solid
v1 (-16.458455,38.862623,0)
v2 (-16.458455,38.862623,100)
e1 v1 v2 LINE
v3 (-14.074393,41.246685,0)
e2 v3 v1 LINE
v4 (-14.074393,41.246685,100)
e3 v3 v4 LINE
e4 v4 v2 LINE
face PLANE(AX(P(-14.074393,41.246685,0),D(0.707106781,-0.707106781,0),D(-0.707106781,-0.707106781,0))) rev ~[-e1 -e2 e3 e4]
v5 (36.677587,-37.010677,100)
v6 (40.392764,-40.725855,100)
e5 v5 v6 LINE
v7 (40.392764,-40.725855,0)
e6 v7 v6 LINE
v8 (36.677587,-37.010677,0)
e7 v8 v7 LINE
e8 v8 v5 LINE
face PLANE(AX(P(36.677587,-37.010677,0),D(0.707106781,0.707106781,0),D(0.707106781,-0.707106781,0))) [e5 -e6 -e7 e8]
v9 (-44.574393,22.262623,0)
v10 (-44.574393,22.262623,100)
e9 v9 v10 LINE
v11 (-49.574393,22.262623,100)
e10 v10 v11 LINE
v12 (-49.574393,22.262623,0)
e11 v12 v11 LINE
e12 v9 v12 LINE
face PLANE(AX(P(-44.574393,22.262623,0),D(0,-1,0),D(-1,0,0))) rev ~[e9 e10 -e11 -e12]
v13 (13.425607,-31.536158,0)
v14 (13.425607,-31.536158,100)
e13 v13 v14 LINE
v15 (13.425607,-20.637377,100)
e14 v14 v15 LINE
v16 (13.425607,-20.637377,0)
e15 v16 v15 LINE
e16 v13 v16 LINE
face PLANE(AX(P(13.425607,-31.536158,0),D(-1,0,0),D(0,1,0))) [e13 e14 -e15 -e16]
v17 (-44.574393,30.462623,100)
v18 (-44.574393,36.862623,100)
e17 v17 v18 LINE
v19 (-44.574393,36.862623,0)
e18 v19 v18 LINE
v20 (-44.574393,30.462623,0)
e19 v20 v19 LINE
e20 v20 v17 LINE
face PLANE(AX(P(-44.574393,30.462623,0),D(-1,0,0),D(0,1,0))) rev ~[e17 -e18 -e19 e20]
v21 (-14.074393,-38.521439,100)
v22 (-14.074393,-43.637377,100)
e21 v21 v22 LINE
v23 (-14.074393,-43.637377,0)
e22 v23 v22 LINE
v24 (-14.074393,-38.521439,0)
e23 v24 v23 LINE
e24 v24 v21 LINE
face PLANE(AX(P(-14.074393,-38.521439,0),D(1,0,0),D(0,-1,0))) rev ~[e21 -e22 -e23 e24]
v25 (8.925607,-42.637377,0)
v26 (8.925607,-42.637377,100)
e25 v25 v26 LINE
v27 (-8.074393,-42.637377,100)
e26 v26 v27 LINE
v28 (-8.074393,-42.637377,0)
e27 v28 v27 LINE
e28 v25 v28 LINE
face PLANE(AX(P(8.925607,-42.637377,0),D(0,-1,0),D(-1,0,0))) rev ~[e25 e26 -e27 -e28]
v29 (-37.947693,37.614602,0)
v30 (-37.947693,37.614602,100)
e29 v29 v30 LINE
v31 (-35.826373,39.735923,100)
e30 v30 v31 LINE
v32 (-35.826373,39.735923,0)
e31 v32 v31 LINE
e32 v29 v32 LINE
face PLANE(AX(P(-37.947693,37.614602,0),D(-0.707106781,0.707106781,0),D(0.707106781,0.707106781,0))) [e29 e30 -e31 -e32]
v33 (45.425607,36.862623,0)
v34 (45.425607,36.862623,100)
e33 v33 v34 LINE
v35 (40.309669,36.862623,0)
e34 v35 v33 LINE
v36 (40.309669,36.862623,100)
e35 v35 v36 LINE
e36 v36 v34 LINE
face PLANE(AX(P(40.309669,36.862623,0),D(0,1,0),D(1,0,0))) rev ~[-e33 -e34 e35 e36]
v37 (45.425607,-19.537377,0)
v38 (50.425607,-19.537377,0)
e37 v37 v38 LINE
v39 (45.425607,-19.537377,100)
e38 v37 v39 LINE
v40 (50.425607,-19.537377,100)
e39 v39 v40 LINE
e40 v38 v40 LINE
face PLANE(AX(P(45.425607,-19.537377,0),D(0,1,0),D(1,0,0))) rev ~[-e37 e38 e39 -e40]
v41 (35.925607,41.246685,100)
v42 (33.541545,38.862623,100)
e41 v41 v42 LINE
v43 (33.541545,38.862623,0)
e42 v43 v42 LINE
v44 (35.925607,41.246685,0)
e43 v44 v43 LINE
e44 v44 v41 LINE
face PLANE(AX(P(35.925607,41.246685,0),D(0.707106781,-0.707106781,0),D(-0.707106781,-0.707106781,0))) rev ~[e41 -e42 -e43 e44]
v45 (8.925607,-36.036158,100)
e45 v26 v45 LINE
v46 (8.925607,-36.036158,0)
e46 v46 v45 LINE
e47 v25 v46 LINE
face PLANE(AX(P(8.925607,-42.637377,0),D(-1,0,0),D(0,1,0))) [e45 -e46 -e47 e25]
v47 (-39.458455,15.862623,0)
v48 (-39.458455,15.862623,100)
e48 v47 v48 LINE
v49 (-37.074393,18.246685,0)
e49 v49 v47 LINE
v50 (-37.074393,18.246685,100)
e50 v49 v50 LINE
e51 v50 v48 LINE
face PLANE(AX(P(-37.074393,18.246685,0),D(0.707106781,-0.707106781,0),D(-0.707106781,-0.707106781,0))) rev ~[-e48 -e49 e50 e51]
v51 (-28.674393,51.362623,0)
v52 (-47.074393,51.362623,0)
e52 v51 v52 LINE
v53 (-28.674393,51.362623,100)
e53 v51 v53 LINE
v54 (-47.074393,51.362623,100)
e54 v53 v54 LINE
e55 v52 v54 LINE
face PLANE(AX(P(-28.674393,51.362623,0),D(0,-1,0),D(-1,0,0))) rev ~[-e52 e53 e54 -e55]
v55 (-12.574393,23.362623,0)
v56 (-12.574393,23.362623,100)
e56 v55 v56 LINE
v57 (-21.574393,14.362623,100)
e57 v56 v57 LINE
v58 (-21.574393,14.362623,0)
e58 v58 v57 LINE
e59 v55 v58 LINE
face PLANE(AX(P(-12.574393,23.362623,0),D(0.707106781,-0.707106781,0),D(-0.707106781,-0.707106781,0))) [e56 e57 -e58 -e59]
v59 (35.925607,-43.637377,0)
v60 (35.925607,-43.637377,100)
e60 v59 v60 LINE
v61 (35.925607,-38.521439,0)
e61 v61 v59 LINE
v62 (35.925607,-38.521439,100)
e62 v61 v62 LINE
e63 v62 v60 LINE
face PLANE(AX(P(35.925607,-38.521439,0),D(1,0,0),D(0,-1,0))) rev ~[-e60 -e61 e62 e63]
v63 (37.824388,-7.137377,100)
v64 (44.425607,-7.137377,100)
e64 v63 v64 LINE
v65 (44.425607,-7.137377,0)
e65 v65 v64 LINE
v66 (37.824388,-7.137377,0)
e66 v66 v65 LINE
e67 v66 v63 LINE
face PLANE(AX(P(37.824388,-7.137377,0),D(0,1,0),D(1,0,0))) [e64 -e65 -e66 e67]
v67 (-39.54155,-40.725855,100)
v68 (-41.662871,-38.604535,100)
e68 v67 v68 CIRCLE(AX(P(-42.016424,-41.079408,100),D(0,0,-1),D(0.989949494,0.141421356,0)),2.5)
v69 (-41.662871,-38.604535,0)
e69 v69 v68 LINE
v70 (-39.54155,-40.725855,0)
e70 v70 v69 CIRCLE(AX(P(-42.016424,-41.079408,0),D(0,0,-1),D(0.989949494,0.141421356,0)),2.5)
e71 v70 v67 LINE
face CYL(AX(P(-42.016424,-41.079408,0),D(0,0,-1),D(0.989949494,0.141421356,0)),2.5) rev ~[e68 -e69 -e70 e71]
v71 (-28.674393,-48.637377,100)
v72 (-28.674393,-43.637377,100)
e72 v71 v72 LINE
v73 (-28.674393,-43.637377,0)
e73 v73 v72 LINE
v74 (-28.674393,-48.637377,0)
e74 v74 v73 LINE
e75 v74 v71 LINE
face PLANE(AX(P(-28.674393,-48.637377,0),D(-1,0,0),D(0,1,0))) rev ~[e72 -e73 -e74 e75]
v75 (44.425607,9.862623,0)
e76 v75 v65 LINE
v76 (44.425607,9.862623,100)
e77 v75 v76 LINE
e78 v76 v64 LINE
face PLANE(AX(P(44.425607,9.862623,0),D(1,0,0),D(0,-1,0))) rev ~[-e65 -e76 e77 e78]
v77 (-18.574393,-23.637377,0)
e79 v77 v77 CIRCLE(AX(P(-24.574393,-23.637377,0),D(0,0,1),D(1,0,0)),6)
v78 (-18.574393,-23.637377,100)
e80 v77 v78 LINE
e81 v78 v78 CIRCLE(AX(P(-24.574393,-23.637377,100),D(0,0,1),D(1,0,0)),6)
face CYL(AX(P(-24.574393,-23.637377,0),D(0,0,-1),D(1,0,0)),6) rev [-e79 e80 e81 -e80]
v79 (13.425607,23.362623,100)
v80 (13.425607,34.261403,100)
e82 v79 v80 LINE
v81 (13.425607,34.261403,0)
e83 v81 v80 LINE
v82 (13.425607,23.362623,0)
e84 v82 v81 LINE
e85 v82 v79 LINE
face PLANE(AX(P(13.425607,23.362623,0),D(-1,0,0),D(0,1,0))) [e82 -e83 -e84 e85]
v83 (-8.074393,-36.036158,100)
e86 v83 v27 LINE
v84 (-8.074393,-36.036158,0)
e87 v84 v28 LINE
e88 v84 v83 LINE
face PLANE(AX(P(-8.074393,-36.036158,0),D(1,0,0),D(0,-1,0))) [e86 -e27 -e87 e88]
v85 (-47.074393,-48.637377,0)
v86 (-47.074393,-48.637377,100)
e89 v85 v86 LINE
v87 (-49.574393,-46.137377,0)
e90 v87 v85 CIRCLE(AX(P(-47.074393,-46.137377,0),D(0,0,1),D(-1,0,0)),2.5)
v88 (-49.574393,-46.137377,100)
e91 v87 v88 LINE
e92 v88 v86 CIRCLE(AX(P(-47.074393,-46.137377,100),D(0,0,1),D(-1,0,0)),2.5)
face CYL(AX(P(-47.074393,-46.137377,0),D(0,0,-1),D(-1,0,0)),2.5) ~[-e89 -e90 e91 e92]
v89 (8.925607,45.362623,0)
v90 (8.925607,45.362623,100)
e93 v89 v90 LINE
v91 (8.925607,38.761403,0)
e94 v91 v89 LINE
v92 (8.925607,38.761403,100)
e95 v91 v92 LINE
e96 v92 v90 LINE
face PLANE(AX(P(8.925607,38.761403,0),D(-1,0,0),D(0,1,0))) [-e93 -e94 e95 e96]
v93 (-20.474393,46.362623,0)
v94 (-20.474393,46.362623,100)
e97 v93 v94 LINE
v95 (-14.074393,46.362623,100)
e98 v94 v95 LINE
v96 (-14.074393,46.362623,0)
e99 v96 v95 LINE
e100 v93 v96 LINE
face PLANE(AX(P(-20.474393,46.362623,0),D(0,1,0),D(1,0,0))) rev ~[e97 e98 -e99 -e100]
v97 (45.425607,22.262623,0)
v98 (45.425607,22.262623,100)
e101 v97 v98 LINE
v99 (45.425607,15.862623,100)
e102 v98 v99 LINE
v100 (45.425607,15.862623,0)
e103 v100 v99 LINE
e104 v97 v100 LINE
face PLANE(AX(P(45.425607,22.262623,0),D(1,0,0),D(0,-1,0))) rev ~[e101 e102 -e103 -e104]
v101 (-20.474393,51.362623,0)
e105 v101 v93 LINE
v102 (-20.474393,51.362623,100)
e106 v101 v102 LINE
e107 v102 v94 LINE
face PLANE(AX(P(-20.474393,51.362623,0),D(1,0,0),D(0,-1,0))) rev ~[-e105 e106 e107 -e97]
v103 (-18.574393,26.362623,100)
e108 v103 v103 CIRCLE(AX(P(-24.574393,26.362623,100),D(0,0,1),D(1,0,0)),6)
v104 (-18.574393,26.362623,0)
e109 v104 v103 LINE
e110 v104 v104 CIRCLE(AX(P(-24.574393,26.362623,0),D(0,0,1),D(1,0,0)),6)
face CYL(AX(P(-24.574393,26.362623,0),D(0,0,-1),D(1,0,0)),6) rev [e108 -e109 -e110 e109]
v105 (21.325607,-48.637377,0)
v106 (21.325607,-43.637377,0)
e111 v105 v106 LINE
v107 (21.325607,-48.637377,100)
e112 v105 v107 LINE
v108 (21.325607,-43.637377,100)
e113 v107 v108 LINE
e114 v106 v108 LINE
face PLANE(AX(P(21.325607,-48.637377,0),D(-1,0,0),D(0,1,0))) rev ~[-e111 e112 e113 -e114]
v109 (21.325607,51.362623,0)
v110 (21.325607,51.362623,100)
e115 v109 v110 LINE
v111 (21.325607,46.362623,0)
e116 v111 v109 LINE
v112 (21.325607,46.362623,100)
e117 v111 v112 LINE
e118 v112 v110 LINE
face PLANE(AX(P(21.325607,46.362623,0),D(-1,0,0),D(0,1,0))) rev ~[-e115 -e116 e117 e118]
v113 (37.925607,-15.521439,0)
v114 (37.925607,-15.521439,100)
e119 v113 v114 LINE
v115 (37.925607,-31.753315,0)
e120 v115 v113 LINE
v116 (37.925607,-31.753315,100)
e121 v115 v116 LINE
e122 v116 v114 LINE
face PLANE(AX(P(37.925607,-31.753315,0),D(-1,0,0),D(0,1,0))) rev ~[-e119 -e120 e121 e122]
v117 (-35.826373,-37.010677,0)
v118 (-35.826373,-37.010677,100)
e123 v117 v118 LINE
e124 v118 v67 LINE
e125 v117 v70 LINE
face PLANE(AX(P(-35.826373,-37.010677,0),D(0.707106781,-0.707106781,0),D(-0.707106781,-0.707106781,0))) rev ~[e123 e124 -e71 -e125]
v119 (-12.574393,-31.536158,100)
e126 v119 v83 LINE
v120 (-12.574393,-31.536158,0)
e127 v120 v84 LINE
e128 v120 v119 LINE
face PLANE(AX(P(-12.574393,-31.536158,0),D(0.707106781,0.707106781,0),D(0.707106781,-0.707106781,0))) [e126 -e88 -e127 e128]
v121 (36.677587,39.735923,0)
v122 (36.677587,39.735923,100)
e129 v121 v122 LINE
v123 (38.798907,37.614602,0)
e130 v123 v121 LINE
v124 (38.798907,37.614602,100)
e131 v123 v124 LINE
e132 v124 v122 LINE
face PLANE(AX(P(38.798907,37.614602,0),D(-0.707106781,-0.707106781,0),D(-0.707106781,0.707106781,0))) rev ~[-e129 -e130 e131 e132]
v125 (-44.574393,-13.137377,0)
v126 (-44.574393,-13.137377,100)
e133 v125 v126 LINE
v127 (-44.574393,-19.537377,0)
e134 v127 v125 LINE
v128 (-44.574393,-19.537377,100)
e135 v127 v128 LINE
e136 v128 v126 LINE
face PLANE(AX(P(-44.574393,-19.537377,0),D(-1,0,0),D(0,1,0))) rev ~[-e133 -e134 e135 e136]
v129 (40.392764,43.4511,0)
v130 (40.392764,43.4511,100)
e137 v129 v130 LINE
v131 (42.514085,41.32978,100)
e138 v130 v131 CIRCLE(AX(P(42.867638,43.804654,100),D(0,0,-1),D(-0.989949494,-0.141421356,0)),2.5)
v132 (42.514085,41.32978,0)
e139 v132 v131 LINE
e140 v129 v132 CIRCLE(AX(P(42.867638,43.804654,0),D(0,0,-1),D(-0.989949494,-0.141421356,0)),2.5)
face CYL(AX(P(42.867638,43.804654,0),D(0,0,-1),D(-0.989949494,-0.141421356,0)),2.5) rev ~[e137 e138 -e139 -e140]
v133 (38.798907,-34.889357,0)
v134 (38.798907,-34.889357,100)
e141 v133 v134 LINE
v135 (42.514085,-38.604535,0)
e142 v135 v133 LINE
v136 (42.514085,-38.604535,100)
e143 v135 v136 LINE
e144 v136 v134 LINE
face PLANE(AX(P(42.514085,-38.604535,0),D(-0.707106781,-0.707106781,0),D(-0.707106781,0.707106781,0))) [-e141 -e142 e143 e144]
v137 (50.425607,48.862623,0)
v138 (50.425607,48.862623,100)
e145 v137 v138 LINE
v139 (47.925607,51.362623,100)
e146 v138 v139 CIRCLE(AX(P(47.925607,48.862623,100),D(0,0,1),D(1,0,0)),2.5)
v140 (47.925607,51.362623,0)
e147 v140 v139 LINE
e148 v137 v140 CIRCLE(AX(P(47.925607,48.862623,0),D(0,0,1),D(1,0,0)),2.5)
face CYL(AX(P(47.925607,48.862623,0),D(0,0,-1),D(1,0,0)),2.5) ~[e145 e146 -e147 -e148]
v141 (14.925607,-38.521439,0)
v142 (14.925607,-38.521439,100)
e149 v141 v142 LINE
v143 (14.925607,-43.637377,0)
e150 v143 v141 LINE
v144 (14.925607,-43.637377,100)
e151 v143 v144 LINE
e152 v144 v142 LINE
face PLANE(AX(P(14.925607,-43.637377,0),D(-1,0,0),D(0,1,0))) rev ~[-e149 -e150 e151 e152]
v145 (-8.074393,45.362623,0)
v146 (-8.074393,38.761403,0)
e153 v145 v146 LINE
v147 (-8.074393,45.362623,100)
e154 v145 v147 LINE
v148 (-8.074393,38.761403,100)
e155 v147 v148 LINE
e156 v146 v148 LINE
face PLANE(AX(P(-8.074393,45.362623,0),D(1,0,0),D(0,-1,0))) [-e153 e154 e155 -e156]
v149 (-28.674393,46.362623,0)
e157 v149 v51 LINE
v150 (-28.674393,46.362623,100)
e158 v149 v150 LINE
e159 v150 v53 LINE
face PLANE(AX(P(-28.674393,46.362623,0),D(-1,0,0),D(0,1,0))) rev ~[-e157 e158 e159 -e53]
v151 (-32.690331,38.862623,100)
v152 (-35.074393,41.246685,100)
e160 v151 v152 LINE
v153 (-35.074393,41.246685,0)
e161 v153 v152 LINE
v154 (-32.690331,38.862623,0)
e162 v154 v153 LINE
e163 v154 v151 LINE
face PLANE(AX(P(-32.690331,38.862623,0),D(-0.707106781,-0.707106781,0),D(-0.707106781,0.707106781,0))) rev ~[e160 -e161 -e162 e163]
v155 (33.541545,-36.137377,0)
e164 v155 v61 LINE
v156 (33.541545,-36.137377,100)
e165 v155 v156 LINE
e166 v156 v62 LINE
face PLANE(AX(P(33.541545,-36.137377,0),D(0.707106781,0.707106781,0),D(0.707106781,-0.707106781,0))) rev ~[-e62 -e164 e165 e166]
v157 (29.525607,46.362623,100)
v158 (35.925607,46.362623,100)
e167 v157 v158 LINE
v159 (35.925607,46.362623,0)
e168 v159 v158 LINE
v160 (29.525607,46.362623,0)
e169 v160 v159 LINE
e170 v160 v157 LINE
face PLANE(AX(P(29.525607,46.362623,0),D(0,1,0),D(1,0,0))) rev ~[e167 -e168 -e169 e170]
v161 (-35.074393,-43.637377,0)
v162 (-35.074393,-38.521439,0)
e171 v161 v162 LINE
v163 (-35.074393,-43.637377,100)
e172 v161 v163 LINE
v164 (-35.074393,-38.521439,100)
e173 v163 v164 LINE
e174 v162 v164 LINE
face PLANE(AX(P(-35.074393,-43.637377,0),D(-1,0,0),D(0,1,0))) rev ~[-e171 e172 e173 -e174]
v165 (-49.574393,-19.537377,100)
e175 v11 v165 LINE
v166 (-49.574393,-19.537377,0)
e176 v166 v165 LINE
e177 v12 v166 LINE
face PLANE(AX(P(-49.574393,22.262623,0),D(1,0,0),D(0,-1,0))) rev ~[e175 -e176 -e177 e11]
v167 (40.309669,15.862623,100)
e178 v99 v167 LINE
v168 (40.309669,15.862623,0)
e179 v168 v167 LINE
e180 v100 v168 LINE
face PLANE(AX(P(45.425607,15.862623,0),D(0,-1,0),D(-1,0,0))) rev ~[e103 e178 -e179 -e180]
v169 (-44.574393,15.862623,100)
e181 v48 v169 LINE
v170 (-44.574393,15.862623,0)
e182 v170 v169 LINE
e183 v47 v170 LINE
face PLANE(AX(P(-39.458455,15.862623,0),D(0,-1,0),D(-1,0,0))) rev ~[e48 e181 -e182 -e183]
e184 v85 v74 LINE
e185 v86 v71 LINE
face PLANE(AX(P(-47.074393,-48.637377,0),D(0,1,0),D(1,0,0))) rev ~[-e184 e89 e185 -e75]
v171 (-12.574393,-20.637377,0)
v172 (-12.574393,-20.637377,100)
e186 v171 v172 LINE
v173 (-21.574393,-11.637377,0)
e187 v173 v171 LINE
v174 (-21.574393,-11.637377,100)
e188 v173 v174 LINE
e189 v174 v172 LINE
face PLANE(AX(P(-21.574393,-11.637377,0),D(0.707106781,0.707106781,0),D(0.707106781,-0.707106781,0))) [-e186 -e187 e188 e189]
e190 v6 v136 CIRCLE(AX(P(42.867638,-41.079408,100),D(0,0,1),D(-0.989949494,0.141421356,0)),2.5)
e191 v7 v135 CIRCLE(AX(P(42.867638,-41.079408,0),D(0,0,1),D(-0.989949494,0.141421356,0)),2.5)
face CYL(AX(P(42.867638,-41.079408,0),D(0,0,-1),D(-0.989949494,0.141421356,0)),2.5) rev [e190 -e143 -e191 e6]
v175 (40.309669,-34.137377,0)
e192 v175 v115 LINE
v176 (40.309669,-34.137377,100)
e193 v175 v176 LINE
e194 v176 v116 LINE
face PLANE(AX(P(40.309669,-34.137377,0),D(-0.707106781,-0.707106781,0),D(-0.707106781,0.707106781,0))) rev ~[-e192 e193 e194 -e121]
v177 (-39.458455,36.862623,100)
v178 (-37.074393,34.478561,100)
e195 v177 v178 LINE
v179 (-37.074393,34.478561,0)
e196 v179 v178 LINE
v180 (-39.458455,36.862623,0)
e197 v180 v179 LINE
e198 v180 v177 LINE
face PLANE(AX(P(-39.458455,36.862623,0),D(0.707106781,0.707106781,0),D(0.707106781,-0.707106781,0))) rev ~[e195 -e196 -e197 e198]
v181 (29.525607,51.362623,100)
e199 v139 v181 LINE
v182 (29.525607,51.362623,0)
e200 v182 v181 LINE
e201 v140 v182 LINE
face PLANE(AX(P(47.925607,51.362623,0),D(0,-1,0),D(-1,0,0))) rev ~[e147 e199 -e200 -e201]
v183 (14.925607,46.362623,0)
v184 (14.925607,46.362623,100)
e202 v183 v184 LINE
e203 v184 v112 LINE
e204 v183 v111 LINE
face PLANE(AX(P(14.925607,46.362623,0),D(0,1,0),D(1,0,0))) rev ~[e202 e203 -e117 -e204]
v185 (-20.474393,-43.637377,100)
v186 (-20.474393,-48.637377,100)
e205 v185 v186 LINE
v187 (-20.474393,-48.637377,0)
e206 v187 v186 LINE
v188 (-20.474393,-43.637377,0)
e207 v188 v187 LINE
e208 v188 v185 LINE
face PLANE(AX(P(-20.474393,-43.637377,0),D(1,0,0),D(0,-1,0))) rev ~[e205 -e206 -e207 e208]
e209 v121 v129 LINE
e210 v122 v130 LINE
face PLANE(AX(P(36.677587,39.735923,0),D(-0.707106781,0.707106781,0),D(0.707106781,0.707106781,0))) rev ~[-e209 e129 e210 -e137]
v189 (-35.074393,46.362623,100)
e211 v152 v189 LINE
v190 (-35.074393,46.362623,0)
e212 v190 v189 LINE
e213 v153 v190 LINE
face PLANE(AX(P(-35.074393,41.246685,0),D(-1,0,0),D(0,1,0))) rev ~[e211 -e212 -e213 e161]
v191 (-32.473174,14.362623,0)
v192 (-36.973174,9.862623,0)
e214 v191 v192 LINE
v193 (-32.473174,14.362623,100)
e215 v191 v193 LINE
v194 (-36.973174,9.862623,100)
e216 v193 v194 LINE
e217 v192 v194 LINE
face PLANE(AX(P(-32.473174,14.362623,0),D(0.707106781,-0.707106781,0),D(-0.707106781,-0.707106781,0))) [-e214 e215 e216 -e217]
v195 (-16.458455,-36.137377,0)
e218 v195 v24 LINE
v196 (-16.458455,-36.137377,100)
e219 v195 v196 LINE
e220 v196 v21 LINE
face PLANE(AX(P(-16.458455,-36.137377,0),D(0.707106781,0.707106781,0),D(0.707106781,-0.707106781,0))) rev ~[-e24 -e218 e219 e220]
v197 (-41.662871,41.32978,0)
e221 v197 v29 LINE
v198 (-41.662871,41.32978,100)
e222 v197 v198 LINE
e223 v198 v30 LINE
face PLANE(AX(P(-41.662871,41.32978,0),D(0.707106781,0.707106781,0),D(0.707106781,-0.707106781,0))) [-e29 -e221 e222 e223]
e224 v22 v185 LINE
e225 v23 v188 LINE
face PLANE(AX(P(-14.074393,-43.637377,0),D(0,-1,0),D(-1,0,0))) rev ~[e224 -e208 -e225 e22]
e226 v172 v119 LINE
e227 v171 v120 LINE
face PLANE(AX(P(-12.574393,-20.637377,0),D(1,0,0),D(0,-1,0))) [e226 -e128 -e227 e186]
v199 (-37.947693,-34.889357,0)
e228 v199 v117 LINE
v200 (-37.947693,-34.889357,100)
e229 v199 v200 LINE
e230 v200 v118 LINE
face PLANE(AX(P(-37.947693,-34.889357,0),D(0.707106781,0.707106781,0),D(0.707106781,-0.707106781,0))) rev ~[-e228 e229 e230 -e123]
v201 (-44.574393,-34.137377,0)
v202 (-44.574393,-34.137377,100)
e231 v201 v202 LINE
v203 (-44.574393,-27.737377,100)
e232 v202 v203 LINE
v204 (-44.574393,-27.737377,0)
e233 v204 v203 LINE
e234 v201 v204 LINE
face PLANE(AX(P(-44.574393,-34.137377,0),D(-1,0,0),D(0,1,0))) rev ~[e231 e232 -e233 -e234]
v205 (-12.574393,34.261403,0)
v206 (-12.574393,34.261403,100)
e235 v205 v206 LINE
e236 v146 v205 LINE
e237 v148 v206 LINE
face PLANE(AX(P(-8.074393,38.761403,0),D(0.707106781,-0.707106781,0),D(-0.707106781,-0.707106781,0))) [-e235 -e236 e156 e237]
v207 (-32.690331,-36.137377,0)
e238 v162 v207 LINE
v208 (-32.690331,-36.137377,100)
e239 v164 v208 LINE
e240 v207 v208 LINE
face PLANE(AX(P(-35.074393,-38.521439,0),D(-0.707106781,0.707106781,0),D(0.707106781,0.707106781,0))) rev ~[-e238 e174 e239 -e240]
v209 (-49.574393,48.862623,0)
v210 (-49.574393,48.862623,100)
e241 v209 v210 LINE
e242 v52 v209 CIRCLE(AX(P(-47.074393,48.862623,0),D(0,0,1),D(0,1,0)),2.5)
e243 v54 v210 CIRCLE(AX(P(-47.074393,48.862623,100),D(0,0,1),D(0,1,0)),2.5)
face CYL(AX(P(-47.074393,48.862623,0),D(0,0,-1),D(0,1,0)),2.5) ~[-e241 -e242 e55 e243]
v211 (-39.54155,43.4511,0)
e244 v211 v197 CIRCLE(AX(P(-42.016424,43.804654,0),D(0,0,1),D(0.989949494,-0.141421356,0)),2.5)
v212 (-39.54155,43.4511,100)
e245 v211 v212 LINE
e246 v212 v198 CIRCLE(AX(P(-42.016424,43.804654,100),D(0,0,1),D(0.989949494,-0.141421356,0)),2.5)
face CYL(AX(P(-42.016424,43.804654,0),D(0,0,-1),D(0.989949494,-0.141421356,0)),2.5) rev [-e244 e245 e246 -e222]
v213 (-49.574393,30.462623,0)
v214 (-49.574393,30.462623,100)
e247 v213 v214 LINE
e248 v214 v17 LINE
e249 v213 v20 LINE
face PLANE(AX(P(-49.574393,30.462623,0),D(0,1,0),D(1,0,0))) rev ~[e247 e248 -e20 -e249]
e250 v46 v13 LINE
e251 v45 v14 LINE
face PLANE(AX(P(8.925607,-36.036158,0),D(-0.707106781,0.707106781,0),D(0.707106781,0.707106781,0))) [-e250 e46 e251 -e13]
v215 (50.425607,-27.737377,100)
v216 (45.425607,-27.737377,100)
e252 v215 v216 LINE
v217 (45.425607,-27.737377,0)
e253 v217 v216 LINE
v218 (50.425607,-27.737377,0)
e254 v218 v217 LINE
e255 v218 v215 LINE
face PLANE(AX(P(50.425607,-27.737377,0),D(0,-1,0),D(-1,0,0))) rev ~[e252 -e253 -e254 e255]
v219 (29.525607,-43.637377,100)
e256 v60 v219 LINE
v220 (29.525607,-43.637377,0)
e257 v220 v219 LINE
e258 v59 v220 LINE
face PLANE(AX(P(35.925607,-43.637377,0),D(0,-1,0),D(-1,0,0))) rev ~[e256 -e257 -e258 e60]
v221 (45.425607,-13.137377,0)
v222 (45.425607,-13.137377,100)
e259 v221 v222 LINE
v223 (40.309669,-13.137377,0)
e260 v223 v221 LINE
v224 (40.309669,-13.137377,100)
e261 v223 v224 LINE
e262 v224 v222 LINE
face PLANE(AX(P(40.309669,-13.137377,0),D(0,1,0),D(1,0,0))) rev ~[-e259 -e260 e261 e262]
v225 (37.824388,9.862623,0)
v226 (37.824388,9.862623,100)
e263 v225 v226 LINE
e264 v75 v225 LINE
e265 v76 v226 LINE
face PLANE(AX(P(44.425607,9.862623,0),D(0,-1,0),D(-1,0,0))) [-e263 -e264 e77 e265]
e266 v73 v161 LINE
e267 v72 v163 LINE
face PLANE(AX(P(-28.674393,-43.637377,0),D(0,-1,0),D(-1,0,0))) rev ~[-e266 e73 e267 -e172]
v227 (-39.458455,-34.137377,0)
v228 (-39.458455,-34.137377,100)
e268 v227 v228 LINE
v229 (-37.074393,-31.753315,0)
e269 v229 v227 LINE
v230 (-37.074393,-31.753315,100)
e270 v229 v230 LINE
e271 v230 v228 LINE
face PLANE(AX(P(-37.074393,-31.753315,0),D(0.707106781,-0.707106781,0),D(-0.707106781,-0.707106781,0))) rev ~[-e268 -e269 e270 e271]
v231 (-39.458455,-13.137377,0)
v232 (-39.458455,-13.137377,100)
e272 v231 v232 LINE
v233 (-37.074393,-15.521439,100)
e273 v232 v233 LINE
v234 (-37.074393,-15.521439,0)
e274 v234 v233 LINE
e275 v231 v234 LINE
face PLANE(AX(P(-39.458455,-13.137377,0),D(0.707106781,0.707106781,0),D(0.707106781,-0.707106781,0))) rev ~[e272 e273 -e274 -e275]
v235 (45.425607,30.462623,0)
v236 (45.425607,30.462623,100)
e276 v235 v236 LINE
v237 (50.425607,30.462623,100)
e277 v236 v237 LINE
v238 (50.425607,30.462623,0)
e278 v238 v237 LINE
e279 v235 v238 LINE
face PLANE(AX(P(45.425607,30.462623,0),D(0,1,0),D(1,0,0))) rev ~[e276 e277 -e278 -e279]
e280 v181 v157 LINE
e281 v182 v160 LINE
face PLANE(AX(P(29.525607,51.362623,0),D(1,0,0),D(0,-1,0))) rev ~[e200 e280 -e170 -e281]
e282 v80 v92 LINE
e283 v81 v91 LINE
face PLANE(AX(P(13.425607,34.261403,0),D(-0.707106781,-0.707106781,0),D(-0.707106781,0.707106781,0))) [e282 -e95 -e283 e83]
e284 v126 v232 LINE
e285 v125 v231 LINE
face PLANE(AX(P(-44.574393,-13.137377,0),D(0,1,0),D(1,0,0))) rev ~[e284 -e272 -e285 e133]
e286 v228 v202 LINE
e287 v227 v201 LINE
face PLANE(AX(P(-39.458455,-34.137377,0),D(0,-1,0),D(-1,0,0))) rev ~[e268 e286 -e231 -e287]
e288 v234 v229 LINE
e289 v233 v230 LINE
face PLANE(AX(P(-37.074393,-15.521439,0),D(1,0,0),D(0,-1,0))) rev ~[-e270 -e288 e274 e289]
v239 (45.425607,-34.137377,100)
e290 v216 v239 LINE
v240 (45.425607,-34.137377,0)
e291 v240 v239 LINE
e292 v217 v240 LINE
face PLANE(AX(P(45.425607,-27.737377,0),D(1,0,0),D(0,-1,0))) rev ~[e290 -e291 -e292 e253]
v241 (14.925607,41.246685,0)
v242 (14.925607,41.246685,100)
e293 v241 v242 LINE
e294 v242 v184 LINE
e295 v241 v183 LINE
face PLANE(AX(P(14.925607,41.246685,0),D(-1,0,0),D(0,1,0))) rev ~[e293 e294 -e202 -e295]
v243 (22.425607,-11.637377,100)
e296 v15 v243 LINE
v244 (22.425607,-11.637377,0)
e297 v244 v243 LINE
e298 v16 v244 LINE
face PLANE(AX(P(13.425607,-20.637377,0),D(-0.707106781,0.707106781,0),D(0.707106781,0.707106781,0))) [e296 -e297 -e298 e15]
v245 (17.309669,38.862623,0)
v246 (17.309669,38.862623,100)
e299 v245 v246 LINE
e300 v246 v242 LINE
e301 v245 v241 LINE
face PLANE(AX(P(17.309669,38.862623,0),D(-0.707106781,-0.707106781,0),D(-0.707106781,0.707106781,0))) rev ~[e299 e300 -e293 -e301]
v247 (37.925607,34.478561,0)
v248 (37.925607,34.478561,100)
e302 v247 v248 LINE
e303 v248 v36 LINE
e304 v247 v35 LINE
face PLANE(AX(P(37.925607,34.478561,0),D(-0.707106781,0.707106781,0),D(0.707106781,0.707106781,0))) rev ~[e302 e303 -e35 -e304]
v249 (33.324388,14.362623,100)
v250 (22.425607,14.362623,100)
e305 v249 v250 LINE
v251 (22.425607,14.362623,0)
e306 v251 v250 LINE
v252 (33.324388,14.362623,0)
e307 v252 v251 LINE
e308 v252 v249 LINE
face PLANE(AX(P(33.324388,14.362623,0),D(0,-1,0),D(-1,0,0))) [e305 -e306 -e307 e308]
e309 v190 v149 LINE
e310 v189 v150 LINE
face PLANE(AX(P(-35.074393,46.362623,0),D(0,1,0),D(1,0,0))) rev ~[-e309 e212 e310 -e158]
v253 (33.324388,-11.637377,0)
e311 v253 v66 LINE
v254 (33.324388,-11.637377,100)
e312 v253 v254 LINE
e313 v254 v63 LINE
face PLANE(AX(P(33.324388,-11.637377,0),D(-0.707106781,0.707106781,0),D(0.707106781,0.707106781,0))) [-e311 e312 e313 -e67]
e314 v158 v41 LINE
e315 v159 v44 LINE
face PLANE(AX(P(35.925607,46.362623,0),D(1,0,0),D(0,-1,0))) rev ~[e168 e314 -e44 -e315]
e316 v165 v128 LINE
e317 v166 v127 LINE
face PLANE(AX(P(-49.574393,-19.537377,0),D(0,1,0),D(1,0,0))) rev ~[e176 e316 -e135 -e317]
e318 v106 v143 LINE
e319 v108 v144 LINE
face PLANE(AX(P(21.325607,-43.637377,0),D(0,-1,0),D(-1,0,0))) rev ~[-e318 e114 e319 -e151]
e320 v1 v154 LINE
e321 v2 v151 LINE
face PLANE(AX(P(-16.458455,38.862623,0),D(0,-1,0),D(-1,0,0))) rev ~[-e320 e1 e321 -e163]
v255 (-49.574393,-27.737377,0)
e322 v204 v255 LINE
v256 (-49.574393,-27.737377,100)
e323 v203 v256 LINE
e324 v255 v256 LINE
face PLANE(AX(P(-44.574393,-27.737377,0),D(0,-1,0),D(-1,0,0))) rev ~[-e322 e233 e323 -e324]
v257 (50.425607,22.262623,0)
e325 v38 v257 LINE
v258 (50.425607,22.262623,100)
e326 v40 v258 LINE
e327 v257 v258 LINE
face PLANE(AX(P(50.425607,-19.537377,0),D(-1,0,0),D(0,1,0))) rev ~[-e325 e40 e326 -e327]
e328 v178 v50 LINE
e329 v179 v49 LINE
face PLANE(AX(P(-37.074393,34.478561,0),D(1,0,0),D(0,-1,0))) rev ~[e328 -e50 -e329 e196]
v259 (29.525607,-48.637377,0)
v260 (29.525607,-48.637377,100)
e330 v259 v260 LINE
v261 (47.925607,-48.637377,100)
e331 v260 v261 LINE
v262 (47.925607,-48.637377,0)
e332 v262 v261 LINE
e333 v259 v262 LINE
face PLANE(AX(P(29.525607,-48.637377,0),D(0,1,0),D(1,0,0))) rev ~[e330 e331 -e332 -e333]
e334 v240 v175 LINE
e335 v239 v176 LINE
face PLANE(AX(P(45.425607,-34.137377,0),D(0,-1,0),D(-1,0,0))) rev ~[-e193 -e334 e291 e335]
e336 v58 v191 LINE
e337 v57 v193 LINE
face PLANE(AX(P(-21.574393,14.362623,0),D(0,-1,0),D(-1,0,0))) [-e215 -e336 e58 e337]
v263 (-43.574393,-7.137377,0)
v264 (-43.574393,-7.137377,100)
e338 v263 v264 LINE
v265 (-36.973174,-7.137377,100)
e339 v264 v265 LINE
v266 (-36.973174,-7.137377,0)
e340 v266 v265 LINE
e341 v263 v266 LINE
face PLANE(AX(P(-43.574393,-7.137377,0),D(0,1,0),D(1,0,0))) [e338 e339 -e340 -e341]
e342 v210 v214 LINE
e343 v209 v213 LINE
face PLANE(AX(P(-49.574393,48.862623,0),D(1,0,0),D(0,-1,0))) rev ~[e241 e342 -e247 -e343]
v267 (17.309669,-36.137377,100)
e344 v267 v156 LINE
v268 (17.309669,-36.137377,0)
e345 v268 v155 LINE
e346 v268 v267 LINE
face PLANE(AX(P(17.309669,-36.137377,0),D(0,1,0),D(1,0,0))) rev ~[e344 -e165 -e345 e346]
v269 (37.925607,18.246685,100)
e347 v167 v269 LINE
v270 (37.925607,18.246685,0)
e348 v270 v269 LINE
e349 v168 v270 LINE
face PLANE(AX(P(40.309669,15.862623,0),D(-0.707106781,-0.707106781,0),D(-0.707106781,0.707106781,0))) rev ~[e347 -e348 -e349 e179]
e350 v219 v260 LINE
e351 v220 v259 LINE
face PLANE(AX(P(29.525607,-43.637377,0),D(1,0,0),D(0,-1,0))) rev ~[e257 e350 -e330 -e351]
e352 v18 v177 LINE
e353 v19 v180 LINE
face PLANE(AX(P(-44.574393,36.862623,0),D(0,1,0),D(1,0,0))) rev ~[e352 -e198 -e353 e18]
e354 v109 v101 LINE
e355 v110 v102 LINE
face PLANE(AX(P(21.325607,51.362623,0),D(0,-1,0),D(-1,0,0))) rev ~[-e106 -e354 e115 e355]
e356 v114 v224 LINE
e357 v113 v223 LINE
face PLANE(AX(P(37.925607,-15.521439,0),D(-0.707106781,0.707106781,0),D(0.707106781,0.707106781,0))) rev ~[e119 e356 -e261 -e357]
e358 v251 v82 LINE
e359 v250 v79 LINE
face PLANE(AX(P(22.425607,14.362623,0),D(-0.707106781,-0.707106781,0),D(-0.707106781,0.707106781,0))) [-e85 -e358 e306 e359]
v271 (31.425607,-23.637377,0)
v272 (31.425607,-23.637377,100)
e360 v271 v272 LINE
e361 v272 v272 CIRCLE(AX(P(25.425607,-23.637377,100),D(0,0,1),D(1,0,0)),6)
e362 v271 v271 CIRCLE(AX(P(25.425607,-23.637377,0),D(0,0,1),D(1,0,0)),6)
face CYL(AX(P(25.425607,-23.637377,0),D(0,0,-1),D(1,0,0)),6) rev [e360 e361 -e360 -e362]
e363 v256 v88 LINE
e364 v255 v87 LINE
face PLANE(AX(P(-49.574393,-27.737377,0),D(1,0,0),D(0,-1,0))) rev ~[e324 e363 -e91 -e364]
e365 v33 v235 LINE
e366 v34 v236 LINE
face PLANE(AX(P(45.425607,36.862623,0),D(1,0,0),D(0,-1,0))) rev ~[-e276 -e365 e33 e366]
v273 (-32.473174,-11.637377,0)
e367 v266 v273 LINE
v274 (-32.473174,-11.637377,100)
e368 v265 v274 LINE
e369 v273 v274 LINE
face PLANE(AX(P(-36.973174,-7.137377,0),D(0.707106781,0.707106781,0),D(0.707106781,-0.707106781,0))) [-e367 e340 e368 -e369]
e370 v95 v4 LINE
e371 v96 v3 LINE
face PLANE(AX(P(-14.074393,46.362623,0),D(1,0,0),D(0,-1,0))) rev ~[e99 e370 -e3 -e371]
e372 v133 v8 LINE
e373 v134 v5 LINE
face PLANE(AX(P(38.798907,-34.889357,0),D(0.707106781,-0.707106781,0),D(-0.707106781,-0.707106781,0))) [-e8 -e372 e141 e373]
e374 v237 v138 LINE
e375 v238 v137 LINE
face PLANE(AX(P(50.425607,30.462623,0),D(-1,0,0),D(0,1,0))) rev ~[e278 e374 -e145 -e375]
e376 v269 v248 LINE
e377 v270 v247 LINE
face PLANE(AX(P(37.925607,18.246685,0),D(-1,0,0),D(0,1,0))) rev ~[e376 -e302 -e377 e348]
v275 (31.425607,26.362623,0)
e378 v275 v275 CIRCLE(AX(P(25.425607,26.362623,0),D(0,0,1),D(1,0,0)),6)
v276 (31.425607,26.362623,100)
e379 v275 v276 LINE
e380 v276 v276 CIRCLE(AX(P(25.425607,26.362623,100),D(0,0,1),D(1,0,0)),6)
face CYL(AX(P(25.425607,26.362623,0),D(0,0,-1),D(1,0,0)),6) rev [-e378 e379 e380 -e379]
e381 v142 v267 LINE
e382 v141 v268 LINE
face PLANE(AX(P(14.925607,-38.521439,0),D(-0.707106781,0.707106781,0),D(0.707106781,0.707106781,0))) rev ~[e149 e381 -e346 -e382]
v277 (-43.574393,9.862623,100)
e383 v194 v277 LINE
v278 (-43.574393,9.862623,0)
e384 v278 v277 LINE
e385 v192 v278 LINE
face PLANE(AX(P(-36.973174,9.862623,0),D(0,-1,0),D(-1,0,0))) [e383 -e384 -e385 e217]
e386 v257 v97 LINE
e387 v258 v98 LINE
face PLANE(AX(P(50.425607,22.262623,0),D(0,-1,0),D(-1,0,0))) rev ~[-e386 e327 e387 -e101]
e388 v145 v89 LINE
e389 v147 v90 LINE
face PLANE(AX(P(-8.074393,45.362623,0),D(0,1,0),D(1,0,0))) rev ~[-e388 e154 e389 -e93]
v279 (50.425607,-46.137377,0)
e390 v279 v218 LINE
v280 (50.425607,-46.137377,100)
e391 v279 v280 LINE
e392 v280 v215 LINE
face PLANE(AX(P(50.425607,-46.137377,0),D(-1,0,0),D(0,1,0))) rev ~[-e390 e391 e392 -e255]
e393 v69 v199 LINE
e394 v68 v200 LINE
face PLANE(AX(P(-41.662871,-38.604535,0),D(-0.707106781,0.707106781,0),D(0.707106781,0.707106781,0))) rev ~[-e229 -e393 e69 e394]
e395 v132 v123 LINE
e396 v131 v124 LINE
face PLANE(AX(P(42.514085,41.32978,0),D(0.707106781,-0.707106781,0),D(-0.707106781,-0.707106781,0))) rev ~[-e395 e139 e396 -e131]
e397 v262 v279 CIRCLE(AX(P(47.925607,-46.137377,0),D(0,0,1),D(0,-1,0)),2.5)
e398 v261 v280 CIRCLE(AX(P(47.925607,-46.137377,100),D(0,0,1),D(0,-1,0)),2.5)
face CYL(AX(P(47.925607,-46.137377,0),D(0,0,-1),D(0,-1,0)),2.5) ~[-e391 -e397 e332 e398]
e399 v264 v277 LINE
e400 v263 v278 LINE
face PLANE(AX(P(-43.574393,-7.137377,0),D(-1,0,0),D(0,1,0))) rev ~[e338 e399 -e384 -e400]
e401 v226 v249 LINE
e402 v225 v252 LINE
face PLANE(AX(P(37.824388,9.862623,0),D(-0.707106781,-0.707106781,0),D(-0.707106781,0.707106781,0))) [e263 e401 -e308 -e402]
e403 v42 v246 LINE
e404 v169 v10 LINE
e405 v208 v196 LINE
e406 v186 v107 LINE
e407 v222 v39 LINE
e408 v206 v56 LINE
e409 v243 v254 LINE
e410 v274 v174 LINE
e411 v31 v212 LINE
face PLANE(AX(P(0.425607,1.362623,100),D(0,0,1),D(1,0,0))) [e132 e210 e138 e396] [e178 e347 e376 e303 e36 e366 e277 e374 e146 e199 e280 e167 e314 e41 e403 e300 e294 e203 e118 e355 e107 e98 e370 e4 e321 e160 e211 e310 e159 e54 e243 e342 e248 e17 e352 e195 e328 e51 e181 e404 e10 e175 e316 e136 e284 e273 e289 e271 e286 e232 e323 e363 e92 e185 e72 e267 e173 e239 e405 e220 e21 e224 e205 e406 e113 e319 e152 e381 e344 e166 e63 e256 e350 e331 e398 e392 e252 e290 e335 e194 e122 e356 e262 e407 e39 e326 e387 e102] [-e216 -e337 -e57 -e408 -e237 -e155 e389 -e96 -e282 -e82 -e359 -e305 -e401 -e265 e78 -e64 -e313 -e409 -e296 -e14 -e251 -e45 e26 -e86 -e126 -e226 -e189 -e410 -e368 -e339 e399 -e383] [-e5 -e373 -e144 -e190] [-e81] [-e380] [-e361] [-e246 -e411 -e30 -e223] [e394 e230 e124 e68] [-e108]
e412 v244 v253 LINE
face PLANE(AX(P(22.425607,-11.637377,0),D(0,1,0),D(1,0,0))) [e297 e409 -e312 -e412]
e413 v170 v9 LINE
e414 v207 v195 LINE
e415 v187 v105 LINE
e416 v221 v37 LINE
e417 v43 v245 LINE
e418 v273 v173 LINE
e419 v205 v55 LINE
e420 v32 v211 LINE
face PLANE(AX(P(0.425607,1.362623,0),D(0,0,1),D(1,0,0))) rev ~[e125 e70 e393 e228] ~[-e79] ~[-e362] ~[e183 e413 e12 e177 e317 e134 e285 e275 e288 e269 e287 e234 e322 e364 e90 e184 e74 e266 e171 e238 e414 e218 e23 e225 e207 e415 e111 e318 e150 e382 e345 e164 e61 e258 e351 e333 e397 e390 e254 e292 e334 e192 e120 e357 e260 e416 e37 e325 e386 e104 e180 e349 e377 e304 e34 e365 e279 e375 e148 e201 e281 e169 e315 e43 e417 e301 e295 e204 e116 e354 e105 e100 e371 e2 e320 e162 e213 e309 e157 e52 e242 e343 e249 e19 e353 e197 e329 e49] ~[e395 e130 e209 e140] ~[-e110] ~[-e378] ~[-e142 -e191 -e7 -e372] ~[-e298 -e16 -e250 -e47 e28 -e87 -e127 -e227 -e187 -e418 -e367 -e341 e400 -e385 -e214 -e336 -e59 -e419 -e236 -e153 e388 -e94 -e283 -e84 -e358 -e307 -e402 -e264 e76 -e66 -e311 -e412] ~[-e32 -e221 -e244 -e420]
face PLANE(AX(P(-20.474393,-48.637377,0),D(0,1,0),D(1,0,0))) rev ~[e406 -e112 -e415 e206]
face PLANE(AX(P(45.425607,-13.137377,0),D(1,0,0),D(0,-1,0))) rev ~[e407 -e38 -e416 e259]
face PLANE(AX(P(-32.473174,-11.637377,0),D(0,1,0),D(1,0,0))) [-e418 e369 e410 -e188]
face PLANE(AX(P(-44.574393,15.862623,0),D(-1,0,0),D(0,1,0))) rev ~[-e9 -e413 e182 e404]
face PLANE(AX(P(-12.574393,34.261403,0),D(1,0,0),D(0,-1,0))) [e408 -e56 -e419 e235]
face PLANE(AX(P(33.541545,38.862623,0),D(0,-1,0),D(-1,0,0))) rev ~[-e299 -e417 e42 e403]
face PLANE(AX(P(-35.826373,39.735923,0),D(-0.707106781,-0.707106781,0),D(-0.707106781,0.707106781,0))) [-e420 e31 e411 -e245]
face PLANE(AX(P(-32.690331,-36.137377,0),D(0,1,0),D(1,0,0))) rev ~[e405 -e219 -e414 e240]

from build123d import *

# Parameters (mm, degrees)
SKETCH_1_R      = 6
EXTRUDE_1_DEPTH = 100


with BuildPart() as part:
    # 草图1 → 凸台-拉伸1 (new body)
    with BuildSketch(Plane.XY):
        with BuildLine():
            Line((-28.674392903, 51.362622721), (-47.074392903, 51.362622721))
            ThreePointArc((-47.074392903, 51.362622721), (-48.842159856, 50.630389674), (-49.574392903, 48.862622721))
            Line((-49.574392903, 48.862622721), (-49.574392903, 30.462622721))
            Line((-49.574392903, 30.462622721), (-44.574392903, 30.462622721))
            Line((-44.574392903, 30.462622721), (-44.574392903, 36.862622721))
            Line((-44.574392903, 36.862622721), (-39.458454947, 36.862622721))
            Line((-39.458454947, 36.862622721), (-37.074392903, 34.478560678))
            Line((-37.074392903, 34.478560678), (-37.074392903, 26.362622721))
            Line((-37.074392903, 26.362622721), (-37.074392903, 18.246684764))
            Line((-37.074392903, 18.246684764), (-39.458454947, 15.862622721))
            Line((-39.458454947, 15.862622721), (-44.574392903, 15.862622721))
            Line((-44.574392903, 15.862622721), (-44.574392903, 22.262622721))
            Line((-44.574392903, 22.262622721), (-49.574392903, 22.262622721))
            Line((-49.574392903, 22.262622721), (-49.574392903, 1.362622721))
            Line((-49.574392903, 1.362622721), (-49.574392903, -19.537377279))
            Line((-49.574392903, -19.537377279), (-44.574392903, -19.537377279))
            Line((-44.574392903, -19.537377279), (-44.574392903, -13.137377279))
            Line((-44.574392903, -13.137377279), (-39.458454947, -13.137377279))
            Line((-39.458454947, -13.137377279), (-37.074392903, -15.521439322))
            Line((-37.074392903, -15.521439322), (-37.074392903, -23.637377279))
            Line((-37.074392903, -23.637377279), (-37.074392903, -31.753315236))
            Line((-37.074392903, -31.753315236), (-39.458454947, -34.137377279))
            Line((-39.458454947, -34.137377279), (-44.574392903, -34.137377279))
            Line((-44.574392903, -34.137377279), (-44.574392903, -27.737377279))
            Line((-44.574392903, -27.737377279), (-49.574392903, -27.737377279))
            Line((-49.574392903, -27.737377279), (-49.574392903, -46.137377279))
            ThreePointArc((-49.574392903, -46.137377279), (-48.842159856, -47.905144232), (-47.074392903, -48.637377279))
            Line((-47.074392903, -48.637377279), (-28.674392903, -48.637377279))
            Line((-28.674392903, -48.637377279), (-28.674392903, -43.637377279))
            Line((-28.674392903, -43.637377279), (-35.074392903, -43.637377279))
            Line((-35.074392903, -43.637377279), (-35.074392903, -38.521439322))
            Line((-35.074392903, -38.521439322), (-32.69033086, -36.137377279))
            Line((-32.69033086, -36.137377279), (-24.574392903, -36.137377279))
            Line((-24.574392903, -36.137377279), (-16.458454947, -36.137377279))
            Line((-16.458454947, -36.137377279), (-14.074392903, -38.521439322))
            Line((-14.074392903, -38.521439322), (-14.074392903, -43.637377279))
            Line((-14.074392903, -43.637377279), (-20.474392903, -43.637377279))
            Line((-20.474392903, -43.637377279), (-20.474392903, -48.637377279))
            Line((-20.474392903, -48.637377279), (0.425607097, -48.637377279))
            Line((0.425607097, -48.637377279), (21.325607097, -48.637377279))
            Line((21.325607097, -48.637377279), (21.325607097, -43.637377279))
            Line((21.325607097, -43.637377279), (14.925607097, -43.637377279))
            Line((14.925607097, -43.637377279), (14.925607097, -38.521439322))
            Line((14.925607097, -38.521439322), (17.30966914, -36.137377279))
            Line((17.30966914, -36.137377279), (25.425607097, -36.137377279))
            Line((25.425607097, -36.137377279), (33.541545053, -36.137377279))
            Line((33.541545053, -36.137377279), (35.925607097, -38.521439322))
            Line((35.925607097, -38.521439322), (35.925607097, -43.637377279))
            Line((35.925607097, -43.637377279), (29.525607097, -43.637377279))
            Line((29.525607097, -43.637377279), (29.525607097, -48.637377279))
            Line((29.525607097, -48.637377279), (47.925607097, -48.637377279))
            ThreePointArc((47.925607097, -48.637377279), (49.69337405, -47.905144232), (50.425607097, -46.137377279))
            Line((50.425607097, -46.137377279), (50.425607097, -27.737377279))
            Line((50.425607097, -27.737377279), (45.425607097, -27.737377279))
            Line((45.425607097, -27.737377279), (45.425607097, -34.137377279))
            Line((45.425607097, -34.137377279), (40.30966914, -34.137377279))
            Line((40.30966914, -34.137377279), (37.925607097, -31.753315236))
            Line((37.925607097, -31.753315236), (37.925607097, -23.637377279))
            Line((37.925607097, -23.637377279), (37.925607097, -15.521439322))
            Line((37.925607097, -15.521439322), (40.30966914, -13.137377279))
            Line((40.30966914, -13.137377279), (45.425607097, -13.137377279))
            Line((45.425607097, -13.137377279), (45.425607097, -19.537377279))
            Line((45.425607097, -19.537377279), (50.425607097, -19.537377279))
            Line((50.425607097, -19.537377279), (50.425607097, 1.362622721))
            Line((50.425607097, 1.362622721), (50.425607097, 22.262622721))
            Line((50.425607097, 22.262622721), (45.425607097, 22.262622721))
            Line((45.425607097, 22.262622721), (45.425607097, 15.862622721))
            Line((45.425607097, 15.862622721), (40.30966914, 15.862622721))
            Line((40.30966914, 15.862622721), (37.925607097, 18.246684764))
            Line((37.925607097, 18.246684764), (37.925607097, 26.362622721))
            Line((37.925607097, 26.362622721), (37.925607097, 34.478560678))
            Line((37.925607097, 34.478560678), (40.30966914, 36.862622721))
            Line((40.30966914, 36.862622721), (45.425607097, 36.862622721))
            Line((45.425607097, 36.862622721), (45.425607097, 30.462622721))
            Line((45.425607097, 30.462622721), (50.425607097, 30.462622721))
            Line((50.425607097, 30.462622721), (50.425607097, 48.862622721))
            ThreePointArc((50.425607097, 48.862622721), (49.69337405, 50.630389674), (47.925607097, 51.362622721))
            Line((47.925607097, 51.362622721), (29.525607097, 51.362622721))
            Line((29.525607097, 51.362622721), (29.525607097, 46.362622721))
            Line((29.525607097, 46.362622721), (35.925607097, 46.362622721))
            Line((35.925607097, 46.362622721), (35.925607097, 41.246684764))
            Line((35.925607097, 41.246684764), (33.541545053, 38.862622721))
            Line((33.541545053, 38.862622721), (25.425607097, 38.862622721))
            Line((25.425607097, 38.862622721), (17.30966914, 38.862622721))
            Line((17.30966914, 38.862622721), (14.925607097, 41.246684764))
            Line((14.925607097, 41.246684764), (14.925607097, 46.362622721))
            Line((14.925607097, 46.362622721), (21.325607097, 46.362622721))
            Line((21.325607097, 46.362622721), (21.325607097, 51.362622721))
            Line((21.325607097, 51.362622721), (0.425607097, 51.362622721))
            Line((0.425607097, 51.362622721), (-20.474392903, 51.362622721))
            Line((-20.474392903, 51.362622721), (-20.474392903, 46.362622721))
            Line((-20.474392903, 46.362622721), (-14.074392903, 46.362622721))
            Line((-14.074392903, 46.362622721), (-14.074392903, 41.246684764))
            Line((-14.074392903, 41.246684764), (-16.458454947, 38.862622721))
            Line((-16.458454947, 38.862622721), (-24.574392903, 38.862622721))
            Line((-24.574392903, 38.862622721), (-32.69033086, 38.862622721))
            Line((-32.69033086, 38.862622721), (-35.074392903, 41.246684764))
            Line((-35.074392903, 41.246684764), (-35.074392903, 46.362622721))
            Line((-35.074392903, 46.362622721), (-28.674392903, 46.362622721))
            Line((-28.674392903, 46.362622721), (-28.674392903, 51.362622721))
        make_face()
        with Locations((-24.574392903, 26.362622721)):
            Circle(SKETCH_1_R, mode=Mode.SUBTRACT)
        with Locations((25.425607097, 26.362622721)):
            Circle(SKETCH_1_R, mode=Mode.SUBTRACT)
        with Locations((-24.574392903, -23.637377279)):
            Circle(SKETCH_1_R, mode=Mode.SUBTRACT)
        with Locations((25.425607097, -23.637377279)):
            Circle(SKETCH_1_R, mode=Mode.SUBTRACT)
        with BuildLine():
            Line((-35.826372672, 39.735922833), (-39.541550191, 43.451100352))
            ThreePointArc((-39.541550191, 43.451100352), (-43.784190878, 45.572420696), (-41.662870534, 41.329780008))
            Line((-41.662870534, 41.329780008), (-37.947693016, 37.61460249))
            Line((-37.947693016, 37.61460249), (-35.826372672, 39.735922833))
        make_face(mode=Mode.SUBTRACT)
        Polygon((-8.074392903, 45.362622721), (-8.074392903, 38.76140339), (-12.574392903, 34.26140339), (-12.574392903, 23.362622721), (-21.574392903, 14.362622721), (-32.473173572, 14.362622721), (-36.973173572, 9.862622721), (-43.574392903, 9.862622721), (-43.574392903, 1.362622721), (-43.574392903, -7.137377279), (-36.973173572, -7.137377279), (-32.473173572, -11.637377279), (-21.574392903, -11.637377279), (-12.574392903, -20.637377279), (-12.574392903, -31.536157948), (-8.074392903, -36.036157948), (-8.074392903, -42.637377279), (0.425607097, -42.637377279), (8.925607097, -42.637377279), (8.925607097, -36.036157948), (13.425607097, -31.536157948), (13.425607097, -20.637377279), (22.425607097, -11.637377279), (33.324387766, -11.637377279), (37.824387766, -7.137377279), (44.425607097, -7.137377279), (44.425607097, 1.362622721), (44.425607097, 9.862622721), (37.824387766, 9.862622721), (33.324387766, 14.362622721), (22.425607097, 14.362622721), (13.425607097, 23.362622721), (13.425607097, 34.26140339), (8.925607097, 38.76140339), (8.925607097, 45.362622721), (0.425607097, 45.362622721), align=None, mode=Mode.SUBTRACT)
        with BuildLine():
            Line((36.677586865, 39.735922833), (40.392764384, 43.451100352))
            ThreePointArc((40.392764384, 43.451100352), (44.635405071, 45.572420696), (42.514084728, 41.329780008))
            Line((42.514084728, 41.329780008), (38.798907209, 37.61460249))
            Line((38.798907209, 37.61460249), (36.677586865, 39.735922833))
        make_face(mode=Mode.SUBTRACT)
        with BuildLine():
            Line((-35.826372672, -37.010677391), (-39.541550191, -40.72585491))
            ThreePointArc((-39.541550191, -40.72585491), (-43.784190878, -42.847175254), (-41.662870534, -38.604534567))
            Line((-41.662870534, -38.604534567), (-37.947693016, -34.889357048))
            Line((-37.947693016, -34.889357048), (-35.826372672, -37.010677391))
        make_face(mode=Mode.SUBTRACT)
        with BuildLine():
            Line((36.677586865, -37.010677391), (40.392764384, -40.72585491))
            ThreePointArc((40.392764384, -40.72585491), (44.635405071, -42.847175254), (42.514084728, -38.604534567))
            Line((42.514084728, -38.604534567), (38.798907209, -34.889357048))
            Line((38.798907209, -34.889357048), (36.677586865, -37.010677391))
        make_face(mode=Mode.SUBTRACT)
    extrude(amount=EXTRUDE_1_DEPTH)


solid = part.part
